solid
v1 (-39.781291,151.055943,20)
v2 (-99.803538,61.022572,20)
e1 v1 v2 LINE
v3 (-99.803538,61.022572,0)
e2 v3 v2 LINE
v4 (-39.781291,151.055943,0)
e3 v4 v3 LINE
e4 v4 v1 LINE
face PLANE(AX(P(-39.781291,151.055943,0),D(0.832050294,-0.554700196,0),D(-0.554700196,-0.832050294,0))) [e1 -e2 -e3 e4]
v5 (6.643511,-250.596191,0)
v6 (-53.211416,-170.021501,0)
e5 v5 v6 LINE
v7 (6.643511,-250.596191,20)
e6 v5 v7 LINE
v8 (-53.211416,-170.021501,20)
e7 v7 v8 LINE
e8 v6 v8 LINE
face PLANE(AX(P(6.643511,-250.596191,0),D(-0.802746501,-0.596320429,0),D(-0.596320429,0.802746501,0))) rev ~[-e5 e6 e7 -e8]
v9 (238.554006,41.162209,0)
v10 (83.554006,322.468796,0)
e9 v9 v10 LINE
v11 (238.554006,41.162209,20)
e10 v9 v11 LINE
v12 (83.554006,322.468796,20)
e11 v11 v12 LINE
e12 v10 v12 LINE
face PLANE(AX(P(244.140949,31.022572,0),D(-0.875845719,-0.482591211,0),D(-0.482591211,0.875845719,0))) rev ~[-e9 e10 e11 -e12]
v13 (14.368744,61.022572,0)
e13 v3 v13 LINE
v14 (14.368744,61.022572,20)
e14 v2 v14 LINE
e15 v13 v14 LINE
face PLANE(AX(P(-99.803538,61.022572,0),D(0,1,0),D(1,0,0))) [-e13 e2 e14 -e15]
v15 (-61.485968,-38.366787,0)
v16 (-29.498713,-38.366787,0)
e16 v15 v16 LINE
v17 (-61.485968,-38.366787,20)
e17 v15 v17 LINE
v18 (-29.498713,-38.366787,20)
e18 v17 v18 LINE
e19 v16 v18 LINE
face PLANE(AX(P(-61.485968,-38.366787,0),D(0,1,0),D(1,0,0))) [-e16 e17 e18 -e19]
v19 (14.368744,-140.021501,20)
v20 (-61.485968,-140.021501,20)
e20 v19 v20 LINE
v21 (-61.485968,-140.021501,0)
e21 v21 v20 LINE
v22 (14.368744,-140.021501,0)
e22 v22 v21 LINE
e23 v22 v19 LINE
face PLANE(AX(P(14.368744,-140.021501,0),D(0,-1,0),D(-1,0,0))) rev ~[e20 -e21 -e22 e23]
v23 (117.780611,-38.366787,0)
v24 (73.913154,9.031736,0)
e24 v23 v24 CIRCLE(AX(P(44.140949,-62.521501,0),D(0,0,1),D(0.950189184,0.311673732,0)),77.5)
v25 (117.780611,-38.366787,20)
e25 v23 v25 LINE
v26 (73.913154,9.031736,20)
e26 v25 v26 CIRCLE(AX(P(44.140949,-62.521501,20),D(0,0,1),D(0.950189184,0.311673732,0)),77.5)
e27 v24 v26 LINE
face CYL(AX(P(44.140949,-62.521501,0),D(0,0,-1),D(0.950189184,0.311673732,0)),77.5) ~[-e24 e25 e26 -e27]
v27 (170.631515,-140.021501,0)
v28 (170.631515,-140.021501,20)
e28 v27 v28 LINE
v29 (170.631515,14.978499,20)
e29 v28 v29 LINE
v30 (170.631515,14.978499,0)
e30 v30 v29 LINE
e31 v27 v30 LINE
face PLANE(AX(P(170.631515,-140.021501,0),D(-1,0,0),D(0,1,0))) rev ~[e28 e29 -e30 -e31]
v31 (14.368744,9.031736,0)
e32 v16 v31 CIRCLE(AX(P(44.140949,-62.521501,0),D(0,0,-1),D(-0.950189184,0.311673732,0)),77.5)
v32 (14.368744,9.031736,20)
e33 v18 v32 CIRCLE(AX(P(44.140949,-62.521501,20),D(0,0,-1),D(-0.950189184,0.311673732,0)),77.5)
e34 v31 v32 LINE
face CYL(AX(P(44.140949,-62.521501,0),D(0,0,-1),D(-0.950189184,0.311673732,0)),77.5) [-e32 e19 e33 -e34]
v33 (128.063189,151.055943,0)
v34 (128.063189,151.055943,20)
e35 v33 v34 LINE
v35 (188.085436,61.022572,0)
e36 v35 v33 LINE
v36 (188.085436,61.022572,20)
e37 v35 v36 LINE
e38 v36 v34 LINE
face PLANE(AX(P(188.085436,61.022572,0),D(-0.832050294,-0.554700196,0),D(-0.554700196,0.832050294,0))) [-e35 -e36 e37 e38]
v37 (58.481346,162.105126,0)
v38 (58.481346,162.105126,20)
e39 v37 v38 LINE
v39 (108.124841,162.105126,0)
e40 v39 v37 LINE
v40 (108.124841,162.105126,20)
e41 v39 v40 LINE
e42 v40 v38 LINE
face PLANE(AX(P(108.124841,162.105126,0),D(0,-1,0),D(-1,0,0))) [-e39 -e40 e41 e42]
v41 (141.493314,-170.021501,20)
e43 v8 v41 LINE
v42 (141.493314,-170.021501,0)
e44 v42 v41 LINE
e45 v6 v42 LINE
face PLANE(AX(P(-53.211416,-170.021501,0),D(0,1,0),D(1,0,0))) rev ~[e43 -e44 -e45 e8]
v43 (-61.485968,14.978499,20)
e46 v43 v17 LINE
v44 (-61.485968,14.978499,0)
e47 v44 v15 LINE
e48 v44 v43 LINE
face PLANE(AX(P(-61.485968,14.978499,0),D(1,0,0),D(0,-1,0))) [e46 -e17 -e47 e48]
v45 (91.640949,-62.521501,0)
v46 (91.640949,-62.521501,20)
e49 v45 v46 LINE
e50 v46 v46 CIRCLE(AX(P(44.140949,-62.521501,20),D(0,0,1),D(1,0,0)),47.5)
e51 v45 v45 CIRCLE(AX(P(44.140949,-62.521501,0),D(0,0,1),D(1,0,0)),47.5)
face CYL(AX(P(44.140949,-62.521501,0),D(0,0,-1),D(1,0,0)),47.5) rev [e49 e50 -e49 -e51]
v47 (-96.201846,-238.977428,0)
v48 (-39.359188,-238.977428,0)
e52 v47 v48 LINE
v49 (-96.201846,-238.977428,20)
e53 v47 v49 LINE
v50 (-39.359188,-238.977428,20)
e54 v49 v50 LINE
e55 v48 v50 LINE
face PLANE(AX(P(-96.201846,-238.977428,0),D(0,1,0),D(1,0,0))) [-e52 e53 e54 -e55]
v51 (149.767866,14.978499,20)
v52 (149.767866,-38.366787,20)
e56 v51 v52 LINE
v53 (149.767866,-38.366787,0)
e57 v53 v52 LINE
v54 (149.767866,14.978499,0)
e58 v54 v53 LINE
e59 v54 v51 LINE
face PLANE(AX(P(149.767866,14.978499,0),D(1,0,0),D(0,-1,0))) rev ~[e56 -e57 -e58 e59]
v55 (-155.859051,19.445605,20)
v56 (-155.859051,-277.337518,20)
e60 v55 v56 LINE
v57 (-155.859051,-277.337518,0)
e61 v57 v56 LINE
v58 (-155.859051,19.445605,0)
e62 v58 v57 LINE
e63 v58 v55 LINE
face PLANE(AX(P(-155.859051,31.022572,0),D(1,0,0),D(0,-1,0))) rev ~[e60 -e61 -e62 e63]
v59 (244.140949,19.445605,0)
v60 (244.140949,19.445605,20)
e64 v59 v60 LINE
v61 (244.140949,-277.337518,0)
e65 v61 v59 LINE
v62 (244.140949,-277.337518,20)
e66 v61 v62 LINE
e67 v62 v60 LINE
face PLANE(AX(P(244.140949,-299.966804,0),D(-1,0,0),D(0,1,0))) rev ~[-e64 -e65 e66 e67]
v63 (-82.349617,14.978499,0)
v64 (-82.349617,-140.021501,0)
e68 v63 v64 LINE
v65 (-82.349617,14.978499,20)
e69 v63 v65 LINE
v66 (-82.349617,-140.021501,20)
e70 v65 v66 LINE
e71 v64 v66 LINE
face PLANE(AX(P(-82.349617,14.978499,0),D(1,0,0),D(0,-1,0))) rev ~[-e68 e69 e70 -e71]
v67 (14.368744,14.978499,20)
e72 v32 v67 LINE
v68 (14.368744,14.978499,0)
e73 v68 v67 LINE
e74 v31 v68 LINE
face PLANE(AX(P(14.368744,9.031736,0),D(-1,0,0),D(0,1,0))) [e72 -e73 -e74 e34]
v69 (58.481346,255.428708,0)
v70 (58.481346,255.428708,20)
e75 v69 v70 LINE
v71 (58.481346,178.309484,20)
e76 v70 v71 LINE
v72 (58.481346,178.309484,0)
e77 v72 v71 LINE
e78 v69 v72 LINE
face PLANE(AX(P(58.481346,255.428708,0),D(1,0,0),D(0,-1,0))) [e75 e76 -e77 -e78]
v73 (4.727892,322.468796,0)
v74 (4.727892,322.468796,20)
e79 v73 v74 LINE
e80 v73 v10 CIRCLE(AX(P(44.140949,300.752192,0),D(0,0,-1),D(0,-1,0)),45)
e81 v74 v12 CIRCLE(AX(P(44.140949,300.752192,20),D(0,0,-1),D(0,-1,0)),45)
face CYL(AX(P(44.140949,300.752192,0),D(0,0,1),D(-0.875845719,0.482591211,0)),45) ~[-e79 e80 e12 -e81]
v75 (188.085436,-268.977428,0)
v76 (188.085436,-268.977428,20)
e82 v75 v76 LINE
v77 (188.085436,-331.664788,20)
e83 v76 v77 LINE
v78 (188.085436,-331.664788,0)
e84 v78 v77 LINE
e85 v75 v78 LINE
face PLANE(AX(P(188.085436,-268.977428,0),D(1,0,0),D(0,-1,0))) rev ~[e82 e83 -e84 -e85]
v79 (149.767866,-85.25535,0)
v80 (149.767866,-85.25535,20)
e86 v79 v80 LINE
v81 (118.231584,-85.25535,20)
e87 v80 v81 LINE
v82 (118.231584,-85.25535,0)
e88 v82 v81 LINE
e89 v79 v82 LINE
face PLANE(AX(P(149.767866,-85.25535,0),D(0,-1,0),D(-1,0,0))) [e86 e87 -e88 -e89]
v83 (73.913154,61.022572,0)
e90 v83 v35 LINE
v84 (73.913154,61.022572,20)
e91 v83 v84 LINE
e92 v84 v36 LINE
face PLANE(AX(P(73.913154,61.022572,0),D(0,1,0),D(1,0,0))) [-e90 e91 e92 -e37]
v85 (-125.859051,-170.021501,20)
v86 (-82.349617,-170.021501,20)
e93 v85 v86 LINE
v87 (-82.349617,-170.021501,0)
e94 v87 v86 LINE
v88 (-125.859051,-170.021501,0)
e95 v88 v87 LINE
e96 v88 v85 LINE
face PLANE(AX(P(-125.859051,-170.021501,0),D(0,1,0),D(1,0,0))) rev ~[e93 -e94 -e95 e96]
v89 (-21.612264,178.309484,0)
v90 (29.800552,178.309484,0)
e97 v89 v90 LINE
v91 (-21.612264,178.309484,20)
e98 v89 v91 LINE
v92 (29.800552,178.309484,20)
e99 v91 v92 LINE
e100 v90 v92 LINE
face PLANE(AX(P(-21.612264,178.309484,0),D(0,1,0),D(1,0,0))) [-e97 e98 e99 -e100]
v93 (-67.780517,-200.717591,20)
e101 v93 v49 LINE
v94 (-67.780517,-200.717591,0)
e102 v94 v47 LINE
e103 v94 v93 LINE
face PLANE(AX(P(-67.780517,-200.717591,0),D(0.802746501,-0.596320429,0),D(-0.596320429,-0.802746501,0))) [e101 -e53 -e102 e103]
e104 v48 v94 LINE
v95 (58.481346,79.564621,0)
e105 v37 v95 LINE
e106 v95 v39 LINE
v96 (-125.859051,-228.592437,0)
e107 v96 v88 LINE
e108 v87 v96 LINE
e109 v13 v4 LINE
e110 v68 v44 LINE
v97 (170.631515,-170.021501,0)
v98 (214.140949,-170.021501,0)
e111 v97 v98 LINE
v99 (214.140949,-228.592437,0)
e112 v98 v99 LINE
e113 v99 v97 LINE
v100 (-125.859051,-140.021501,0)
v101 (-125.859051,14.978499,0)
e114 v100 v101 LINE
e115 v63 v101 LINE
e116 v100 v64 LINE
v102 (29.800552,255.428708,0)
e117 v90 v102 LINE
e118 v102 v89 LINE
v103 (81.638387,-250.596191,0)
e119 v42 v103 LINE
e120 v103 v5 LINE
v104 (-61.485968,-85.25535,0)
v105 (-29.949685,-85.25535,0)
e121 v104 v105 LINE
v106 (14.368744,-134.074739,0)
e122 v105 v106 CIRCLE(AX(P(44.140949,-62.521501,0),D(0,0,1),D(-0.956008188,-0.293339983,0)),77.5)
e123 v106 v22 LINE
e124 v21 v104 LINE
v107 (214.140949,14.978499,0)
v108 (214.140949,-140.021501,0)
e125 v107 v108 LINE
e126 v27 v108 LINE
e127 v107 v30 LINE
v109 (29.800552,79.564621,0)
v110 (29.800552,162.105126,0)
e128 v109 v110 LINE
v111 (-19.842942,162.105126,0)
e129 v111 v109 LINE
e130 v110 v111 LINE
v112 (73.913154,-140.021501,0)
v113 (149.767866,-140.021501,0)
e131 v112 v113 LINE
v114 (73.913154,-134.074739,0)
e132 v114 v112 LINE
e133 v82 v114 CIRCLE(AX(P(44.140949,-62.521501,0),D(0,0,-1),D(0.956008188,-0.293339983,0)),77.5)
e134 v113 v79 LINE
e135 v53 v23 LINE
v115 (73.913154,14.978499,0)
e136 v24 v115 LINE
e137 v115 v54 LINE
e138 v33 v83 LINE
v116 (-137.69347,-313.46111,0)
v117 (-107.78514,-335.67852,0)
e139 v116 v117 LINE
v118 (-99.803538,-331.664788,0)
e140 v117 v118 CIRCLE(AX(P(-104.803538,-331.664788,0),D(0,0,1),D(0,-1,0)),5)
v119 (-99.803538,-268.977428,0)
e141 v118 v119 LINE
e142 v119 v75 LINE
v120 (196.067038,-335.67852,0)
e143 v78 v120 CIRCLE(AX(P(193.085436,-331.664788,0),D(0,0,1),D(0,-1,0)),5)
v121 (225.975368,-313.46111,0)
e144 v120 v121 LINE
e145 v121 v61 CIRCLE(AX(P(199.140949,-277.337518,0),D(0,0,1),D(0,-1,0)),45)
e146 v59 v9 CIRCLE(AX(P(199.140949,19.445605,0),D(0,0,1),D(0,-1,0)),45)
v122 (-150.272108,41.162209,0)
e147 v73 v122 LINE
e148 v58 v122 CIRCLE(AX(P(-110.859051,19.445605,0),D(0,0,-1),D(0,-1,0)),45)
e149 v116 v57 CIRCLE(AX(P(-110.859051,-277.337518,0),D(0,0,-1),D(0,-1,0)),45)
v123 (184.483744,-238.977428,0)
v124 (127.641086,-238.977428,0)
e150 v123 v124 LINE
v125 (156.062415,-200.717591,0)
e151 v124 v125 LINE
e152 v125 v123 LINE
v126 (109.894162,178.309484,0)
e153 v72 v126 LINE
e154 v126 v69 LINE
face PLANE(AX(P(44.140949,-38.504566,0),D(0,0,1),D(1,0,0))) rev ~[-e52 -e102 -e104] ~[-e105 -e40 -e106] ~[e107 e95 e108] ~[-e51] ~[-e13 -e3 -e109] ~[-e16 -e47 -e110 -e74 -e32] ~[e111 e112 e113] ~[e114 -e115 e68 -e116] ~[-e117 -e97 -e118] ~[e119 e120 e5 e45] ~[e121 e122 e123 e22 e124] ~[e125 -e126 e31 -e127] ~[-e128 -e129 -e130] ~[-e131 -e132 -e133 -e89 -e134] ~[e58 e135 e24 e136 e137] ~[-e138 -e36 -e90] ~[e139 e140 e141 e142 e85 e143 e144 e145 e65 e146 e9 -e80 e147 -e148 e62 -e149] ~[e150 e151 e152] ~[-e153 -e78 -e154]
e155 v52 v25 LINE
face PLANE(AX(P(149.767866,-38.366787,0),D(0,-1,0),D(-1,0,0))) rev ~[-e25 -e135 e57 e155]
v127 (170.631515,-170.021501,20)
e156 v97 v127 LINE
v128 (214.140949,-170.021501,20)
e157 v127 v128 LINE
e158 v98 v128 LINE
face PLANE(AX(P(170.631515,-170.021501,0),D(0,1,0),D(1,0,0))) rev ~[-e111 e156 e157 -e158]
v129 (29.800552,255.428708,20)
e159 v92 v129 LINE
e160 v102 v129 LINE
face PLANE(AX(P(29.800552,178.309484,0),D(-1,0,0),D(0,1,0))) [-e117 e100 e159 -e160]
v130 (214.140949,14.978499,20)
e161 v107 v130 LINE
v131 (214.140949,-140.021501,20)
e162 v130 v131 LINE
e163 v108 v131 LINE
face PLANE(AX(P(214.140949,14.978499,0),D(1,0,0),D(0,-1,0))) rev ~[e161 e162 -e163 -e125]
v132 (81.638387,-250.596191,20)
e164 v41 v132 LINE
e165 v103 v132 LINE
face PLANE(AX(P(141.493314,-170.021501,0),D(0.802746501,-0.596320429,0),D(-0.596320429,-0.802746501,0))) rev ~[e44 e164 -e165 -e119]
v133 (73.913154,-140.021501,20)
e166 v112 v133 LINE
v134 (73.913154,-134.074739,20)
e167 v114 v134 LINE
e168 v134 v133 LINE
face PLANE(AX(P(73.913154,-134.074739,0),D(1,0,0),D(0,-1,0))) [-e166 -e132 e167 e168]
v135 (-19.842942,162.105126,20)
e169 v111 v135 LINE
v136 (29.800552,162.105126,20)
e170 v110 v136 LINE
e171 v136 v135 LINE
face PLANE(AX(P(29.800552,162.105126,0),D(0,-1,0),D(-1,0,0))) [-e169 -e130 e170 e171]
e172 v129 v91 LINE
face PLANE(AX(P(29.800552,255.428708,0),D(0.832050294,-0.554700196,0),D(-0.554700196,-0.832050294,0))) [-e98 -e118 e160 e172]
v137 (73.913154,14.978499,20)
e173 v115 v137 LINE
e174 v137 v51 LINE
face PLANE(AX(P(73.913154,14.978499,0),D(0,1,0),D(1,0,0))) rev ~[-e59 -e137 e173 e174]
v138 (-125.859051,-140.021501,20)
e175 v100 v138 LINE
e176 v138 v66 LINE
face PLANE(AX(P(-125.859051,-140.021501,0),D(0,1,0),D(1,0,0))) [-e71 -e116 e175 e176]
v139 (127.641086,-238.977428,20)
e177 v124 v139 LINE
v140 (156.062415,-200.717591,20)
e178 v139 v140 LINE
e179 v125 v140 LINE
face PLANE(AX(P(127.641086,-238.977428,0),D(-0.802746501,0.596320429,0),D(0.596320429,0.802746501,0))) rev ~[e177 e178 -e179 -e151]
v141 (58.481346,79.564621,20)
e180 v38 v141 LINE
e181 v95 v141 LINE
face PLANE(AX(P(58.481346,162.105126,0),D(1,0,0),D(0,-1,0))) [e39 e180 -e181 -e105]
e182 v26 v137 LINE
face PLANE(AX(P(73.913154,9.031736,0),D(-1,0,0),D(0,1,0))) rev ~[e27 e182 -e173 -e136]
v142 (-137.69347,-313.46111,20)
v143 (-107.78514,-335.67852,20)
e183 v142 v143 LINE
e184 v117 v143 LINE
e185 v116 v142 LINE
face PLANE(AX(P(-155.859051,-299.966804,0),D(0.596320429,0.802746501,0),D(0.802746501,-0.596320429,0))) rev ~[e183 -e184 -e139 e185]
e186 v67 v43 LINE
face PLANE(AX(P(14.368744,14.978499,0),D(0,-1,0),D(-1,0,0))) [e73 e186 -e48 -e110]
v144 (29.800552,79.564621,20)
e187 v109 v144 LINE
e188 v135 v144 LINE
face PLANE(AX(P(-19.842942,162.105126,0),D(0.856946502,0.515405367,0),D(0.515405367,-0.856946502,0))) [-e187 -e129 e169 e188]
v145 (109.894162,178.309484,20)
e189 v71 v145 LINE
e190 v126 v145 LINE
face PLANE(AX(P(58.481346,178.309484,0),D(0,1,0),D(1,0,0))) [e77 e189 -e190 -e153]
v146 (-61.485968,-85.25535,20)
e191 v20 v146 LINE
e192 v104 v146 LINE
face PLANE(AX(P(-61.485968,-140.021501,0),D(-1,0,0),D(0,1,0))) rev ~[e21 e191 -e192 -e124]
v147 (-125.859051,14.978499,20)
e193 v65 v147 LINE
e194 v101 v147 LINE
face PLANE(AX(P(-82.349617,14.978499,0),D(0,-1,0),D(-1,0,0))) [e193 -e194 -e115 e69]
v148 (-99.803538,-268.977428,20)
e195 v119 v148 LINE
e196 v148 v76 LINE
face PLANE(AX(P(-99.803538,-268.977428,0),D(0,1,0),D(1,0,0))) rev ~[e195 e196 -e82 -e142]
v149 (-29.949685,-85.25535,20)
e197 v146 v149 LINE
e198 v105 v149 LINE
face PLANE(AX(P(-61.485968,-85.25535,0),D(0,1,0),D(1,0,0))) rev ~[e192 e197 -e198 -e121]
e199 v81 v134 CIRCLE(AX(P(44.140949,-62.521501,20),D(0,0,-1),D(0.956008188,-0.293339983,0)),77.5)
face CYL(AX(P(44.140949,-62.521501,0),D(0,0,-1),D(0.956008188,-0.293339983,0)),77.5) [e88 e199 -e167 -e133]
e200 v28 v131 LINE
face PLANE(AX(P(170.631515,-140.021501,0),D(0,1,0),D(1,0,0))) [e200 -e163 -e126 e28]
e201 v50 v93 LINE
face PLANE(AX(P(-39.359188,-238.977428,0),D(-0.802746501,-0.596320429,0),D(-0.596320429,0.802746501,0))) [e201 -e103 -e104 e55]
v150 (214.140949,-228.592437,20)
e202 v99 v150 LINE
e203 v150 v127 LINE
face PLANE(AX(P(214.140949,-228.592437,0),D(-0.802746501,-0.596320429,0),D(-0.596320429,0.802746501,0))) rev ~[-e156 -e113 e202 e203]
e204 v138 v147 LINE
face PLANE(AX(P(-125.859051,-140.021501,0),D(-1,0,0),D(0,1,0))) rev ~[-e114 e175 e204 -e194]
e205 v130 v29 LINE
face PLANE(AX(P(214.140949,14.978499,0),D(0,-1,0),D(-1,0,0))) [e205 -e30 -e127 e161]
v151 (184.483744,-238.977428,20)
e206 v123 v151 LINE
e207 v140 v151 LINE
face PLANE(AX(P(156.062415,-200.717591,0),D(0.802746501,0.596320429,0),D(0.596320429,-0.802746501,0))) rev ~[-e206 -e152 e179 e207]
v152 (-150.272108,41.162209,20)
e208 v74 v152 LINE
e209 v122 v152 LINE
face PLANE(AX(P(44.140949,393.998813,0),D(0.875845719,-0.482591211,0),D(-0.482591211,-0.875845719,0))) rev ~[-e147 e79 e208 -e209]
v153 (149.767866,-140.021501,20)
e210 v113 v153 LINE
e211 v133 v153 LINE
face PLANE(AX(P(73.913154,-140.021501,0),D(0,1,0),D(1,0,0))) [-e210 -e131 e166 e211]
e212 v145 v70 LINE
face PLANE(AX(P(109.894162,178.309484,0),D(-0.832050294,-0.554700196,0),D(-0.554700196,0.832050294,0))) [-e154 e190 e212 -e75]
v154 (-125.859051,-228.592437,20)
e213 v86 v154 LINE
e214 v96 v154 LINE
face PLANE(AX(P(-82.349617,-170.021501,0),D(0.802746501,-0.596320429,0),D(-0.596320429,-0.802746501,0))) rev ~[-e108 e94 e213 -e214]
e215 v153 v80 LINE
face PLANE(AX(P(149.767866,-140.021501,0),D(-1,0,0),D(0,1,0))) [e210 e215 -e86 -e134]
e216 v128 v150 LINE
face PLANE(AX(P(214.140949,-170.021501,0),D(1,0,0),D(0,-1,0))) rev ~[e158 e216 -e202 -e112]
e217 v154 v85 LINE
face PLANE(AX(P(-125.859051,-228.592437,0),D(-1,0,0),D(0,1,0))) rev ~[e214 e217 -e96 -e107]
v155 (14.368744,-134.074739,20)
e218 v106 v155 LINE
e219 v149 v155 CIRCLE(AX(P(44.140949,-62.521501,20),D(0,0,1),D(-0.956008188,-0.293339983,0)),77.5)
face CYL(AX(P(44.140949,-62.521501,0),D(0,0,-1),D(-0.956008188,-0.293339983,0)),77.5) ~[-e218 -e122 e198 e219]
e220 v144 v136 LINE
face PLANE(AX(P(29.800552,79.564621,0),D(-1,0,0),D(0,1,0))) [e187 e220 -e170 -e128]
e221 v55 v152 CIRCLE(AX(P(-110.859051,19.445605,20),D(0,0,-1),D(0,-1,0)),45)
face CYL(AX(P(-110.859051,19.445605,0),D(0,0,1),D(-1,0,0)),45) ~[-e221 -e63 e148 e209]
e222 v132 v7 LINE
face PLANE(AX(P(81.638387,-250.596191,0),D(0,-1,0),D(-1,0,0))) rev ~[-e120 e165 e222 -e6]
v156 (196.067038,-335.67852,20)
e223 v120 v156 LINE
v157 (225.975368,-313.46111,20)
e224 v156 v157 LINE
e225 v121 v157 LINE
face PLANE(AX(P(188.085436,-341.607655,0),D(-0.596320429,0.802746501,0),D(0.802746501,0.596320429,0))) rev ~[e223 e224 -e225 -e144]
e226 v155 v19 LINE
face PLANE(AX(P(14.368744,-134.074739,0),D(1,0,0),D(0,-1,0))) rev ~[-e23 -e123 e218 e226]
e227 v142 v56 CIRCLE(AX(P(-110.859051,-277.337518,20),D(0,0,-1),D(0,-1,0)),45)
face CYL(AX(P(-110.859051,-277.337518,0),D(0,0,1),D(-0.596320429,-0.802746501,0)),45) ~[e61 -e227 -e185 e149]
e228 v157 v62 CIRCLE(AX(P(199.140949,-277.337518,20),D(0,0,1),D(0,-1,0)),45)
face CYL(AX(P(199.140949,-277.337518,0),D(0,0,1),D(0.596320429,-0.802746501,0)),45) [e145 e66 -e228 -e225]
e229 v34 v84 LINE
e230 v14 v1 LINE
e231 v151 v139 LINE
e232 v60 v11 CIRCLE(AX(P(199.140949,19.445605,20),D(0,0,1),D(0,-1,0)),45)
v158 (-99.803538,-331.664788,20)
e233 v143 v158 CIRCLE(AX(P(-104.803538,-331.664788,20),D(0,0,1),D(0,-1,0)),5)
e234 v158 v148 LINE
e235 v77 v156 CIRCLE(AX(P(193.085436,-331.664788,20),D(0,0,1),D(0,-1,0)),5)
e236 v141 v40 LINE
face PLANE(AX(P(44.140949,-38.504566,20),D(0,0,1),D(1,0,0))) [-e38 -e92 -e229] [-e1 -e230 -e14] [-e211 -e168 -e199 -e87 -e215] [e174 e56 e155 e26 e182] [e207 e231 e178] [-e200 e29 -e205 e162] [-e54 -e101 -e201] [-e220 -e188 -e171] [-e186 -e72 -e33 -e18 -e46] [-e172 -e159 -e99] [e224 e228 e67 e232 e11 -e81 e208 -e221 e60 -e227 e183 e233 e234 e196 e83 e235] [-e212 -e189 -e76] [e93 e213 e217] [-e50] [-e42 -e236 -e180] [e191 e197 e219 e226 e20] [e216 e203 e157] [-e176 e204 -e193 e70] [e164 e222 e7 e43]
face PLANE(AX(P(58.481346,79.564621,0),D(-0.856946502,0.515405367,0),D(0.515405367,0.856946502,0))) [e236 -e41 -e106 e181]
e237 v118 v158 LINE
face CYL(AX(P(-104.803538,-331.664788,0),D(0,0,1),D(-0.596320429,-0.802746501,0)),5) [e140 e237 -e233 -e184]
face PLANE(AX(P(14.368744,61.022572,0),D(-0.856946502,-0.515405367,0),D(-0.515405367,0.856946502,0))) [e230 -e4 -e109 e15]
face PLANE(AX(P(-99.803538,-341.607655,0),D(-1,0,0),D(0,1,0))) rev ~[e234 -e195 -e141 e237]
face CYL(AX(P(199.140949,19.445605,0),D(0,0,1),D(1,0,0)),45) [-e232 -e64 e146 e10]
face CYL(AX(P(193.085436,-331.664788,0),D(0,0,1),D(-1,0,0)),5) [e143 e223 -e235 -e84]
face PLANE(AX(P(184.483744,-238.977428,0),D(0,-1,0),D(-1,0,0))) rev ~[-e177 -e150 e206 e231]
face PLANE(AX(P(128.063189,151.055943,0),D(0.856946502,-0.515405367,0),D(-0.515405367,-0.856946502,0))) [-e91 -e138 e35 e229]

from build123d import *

# Parameters (mm, degrees)
SKETCH1_R           = 47.5
BOSS_EXTRUDE1_DEPTH = 20
FILLET1_R           = 45
FILLET2_R           = 5


with BuildPart() as part:
    # Sketch1 → Boss-Extrude1 (new body)
    with BuildSketch(Plane.XY):
        Polygon((-99.803538153, -268.977427834), (188.085436338, -268.977427834), (188.085436338, -341.607655446), (244.140949093, -299.966804473), (244.140949093, -268.977427834), (244.140949093, 31.022572166), (44.140949093, 393.998813233), (-155.859050907, 31.022572166), (-155.859050907, -268.977427834), (-155.859050907, -299.966804473), (-99.803538153, -341.607655446), align=None)
        with Locations((44.140949093, -62.521501175)):
            Circle(SKETCH1_R, mode=Mode.SUBTRACT)
        Polygon((-125.859050907, -170.021501175), (-82.349617269, -170.021501175), (-125.859050907, -228.592437053), align=None, mode=Mode.SUBTRACT)
        Polygon((6.643511339, -250.596190725), (-53.211415944, -170.021501175), (141.493314129, -170.021501175), (81.638386846, -250.596190725), align=None, mode=Mode.SUBTRACT)
        Polygon((184.483743739, -238.977427834), (127.641085844, -238.977427834), (156.062414792, -200.717590916), align=None, mode=Mode.SUBTRACT)
        Polygon((-125.859050907, -140.021501175), (-82.349617269, -140.021501175), (-82.349617269, -90.186397517), (-82.349617269, -47.519598178), (-82.349617269, 14.978498825), (-125.859050907, 14.978498825), (-125.859050907, -47.519598178), (-125.859050907, -90.186397517), align=None, mode=Mode.SUBTRACT)
        Polygon((29.800552112, 255.428707564), (-21.612263577, 178.30948403), (29.800552112, 178.30948403), align=None, mode=Mode.SUBTRACT)
        Polygon((188.085436338, 61.022572166), (128.063188969, 151.05594322), (73.913154487, 61.022572166), align=None, mode=Mode.SUBTRACT)
        Polygon((-99.803538153, 61.022572166), (14.368743698, 61.022572166), (-39.781290784, 151.05594322), align=None, mode=Mode.SUBTRACT)
        Polygon((214.140949093, -228.592437053), (170.631515454, -170.021501175), (214.140949093, -170.021501175), align=None, mode=Mode.SUBTRACT)
        Polygon((214.140949093, -140.021501175), (214.140949093, -90.186397517), (214.140949093, -47.519598178), (214.140949093, 14.978498825), (170.631515454, 14.978498825), (170.631515454, -47.519598178), (170.631515454, -90.186397517), (170.631515454, -140.021501175), align=None, mode=Mode.SUBTRACT)
        Polygon((-96.201845554, -238.977427834), (-39.359187659, -238.977427834), (-67.780516606, -200.717590916), align=None, mode=Mode.SUBTRACT)
        with BuildLine():
            Line((-61.485967642, 14.978498825), (-61.485967642, -38.366786979))
            Line((-61.485967642, -38.366786979), (-29.498712654, -38.366786979))
            ThreePointArc((-29.498712654, -38.366786979), (-12.737505242, -9.880343963), (14.368743698, 9.03173625))
            Line((14.368743698, 9.03173625), (14.368743698, 14.978498825))
            Line((14.368743698, 14.978498825), (-61.485967642, 14.978498825))
        make_face(mode=Mode.SUBTRACT)
        with BuildLine():
            Line((-61.485967642, -140.021501175), (-61.485967642, -85.255349829))
            Line((-61.485967642, -85.255349829), (-29.949685439, -85.255349829))
            ThreePointArc((-29.949685439, -85.255349829), (-13.241152292, -114.6131938), (14.368743698, -134.074738599))
            Line((14.368743698, -134.074738599), (14.368743698, -140.021501175))
            Line((14.368743698, -140.021501175), (-61.485967642, -140.021501175))
        make_face(mode=Mode.SUBTRACT)
        with BuildLine():
            Line((73.913154487, -134.074738599), (73.913154487, -140.021501175))
            Line((73.913154487, -140.021501175), (149.767865827, -140.021501175))
            Line((149.767865827, -140.021501175), (149.767865827, -85.255349829))
            Line((149.767865827, -85.255349829), (118.231583625, -85.255349829))
            ThreePointArc((118.231583625, -85.255349829), (101.523050478, -114.6131938), (73.913154487, -134.074738599))
        make_face(mode=Mode.SUBTRACT)
        with BuildLine():
            Line((73.913154487, 9.03173625), (73.913154487, 14.978498825))
            Line((73.913154487, 14.978498825), (149.767865827, 14.978498825))
            Line((149.767865827, 14.978498825), (149.767865827, -38.366786979))
            Line((149.767865827, -38.366786979), (117.780610839, -38.366786979))
            ThreePointArc((117.780610839, -38.366786979), (101.019403427, -9.880343963), (73.913154487, 9.03173625))
        make_face(mode=Mode.SUBTRACT)
        Polygon((108.124840655, 162.105125634), (58.481346073, 162.105125634), (58.481346073, 79.564621072), align=None, mode=Mode.SUBTRACT)
        Polygon((109.894161762, 178.30948403), (58.481346073, 255.428707564), (58.481346073, 178.30948403), align=None, mode=Mode.SUBTRACT)
        Polygon((-19.84294247, 162.105125634), (29.800552112, 79.564621072), (29.800552112, 162.105125634), align=None, mode=Mode.SUBTRACT)
    extrude(amount=BOSS_EXTRUDE1_DEPTH)

    # Fillet1
    fillet1_edges = [part.edges().sort_by_distance(p)[0] for p in [
        (244.140949093, -299.966804473, 10),
        (-155.859050907, -299.966804473, 10),
        (-155.859050907, 31.022572166, 10),
        (44.140949093, 393.998813233, 10),
        (244.140949093, 31.022572166, 10),
    ]]
    fillet(fillet1_edges, radius=FILLET1_R)

    # Fillet2
    fillet2_edges = [part.edges().sort_by_distance(p)[0] for p in [
        (188.085436338, -341.607655446, 10),
        (-99.803538153, -341.607655446, 10),
    ]]
    fillet(fillet2_edges, radius=FILLET2_R)


solid = part.part
